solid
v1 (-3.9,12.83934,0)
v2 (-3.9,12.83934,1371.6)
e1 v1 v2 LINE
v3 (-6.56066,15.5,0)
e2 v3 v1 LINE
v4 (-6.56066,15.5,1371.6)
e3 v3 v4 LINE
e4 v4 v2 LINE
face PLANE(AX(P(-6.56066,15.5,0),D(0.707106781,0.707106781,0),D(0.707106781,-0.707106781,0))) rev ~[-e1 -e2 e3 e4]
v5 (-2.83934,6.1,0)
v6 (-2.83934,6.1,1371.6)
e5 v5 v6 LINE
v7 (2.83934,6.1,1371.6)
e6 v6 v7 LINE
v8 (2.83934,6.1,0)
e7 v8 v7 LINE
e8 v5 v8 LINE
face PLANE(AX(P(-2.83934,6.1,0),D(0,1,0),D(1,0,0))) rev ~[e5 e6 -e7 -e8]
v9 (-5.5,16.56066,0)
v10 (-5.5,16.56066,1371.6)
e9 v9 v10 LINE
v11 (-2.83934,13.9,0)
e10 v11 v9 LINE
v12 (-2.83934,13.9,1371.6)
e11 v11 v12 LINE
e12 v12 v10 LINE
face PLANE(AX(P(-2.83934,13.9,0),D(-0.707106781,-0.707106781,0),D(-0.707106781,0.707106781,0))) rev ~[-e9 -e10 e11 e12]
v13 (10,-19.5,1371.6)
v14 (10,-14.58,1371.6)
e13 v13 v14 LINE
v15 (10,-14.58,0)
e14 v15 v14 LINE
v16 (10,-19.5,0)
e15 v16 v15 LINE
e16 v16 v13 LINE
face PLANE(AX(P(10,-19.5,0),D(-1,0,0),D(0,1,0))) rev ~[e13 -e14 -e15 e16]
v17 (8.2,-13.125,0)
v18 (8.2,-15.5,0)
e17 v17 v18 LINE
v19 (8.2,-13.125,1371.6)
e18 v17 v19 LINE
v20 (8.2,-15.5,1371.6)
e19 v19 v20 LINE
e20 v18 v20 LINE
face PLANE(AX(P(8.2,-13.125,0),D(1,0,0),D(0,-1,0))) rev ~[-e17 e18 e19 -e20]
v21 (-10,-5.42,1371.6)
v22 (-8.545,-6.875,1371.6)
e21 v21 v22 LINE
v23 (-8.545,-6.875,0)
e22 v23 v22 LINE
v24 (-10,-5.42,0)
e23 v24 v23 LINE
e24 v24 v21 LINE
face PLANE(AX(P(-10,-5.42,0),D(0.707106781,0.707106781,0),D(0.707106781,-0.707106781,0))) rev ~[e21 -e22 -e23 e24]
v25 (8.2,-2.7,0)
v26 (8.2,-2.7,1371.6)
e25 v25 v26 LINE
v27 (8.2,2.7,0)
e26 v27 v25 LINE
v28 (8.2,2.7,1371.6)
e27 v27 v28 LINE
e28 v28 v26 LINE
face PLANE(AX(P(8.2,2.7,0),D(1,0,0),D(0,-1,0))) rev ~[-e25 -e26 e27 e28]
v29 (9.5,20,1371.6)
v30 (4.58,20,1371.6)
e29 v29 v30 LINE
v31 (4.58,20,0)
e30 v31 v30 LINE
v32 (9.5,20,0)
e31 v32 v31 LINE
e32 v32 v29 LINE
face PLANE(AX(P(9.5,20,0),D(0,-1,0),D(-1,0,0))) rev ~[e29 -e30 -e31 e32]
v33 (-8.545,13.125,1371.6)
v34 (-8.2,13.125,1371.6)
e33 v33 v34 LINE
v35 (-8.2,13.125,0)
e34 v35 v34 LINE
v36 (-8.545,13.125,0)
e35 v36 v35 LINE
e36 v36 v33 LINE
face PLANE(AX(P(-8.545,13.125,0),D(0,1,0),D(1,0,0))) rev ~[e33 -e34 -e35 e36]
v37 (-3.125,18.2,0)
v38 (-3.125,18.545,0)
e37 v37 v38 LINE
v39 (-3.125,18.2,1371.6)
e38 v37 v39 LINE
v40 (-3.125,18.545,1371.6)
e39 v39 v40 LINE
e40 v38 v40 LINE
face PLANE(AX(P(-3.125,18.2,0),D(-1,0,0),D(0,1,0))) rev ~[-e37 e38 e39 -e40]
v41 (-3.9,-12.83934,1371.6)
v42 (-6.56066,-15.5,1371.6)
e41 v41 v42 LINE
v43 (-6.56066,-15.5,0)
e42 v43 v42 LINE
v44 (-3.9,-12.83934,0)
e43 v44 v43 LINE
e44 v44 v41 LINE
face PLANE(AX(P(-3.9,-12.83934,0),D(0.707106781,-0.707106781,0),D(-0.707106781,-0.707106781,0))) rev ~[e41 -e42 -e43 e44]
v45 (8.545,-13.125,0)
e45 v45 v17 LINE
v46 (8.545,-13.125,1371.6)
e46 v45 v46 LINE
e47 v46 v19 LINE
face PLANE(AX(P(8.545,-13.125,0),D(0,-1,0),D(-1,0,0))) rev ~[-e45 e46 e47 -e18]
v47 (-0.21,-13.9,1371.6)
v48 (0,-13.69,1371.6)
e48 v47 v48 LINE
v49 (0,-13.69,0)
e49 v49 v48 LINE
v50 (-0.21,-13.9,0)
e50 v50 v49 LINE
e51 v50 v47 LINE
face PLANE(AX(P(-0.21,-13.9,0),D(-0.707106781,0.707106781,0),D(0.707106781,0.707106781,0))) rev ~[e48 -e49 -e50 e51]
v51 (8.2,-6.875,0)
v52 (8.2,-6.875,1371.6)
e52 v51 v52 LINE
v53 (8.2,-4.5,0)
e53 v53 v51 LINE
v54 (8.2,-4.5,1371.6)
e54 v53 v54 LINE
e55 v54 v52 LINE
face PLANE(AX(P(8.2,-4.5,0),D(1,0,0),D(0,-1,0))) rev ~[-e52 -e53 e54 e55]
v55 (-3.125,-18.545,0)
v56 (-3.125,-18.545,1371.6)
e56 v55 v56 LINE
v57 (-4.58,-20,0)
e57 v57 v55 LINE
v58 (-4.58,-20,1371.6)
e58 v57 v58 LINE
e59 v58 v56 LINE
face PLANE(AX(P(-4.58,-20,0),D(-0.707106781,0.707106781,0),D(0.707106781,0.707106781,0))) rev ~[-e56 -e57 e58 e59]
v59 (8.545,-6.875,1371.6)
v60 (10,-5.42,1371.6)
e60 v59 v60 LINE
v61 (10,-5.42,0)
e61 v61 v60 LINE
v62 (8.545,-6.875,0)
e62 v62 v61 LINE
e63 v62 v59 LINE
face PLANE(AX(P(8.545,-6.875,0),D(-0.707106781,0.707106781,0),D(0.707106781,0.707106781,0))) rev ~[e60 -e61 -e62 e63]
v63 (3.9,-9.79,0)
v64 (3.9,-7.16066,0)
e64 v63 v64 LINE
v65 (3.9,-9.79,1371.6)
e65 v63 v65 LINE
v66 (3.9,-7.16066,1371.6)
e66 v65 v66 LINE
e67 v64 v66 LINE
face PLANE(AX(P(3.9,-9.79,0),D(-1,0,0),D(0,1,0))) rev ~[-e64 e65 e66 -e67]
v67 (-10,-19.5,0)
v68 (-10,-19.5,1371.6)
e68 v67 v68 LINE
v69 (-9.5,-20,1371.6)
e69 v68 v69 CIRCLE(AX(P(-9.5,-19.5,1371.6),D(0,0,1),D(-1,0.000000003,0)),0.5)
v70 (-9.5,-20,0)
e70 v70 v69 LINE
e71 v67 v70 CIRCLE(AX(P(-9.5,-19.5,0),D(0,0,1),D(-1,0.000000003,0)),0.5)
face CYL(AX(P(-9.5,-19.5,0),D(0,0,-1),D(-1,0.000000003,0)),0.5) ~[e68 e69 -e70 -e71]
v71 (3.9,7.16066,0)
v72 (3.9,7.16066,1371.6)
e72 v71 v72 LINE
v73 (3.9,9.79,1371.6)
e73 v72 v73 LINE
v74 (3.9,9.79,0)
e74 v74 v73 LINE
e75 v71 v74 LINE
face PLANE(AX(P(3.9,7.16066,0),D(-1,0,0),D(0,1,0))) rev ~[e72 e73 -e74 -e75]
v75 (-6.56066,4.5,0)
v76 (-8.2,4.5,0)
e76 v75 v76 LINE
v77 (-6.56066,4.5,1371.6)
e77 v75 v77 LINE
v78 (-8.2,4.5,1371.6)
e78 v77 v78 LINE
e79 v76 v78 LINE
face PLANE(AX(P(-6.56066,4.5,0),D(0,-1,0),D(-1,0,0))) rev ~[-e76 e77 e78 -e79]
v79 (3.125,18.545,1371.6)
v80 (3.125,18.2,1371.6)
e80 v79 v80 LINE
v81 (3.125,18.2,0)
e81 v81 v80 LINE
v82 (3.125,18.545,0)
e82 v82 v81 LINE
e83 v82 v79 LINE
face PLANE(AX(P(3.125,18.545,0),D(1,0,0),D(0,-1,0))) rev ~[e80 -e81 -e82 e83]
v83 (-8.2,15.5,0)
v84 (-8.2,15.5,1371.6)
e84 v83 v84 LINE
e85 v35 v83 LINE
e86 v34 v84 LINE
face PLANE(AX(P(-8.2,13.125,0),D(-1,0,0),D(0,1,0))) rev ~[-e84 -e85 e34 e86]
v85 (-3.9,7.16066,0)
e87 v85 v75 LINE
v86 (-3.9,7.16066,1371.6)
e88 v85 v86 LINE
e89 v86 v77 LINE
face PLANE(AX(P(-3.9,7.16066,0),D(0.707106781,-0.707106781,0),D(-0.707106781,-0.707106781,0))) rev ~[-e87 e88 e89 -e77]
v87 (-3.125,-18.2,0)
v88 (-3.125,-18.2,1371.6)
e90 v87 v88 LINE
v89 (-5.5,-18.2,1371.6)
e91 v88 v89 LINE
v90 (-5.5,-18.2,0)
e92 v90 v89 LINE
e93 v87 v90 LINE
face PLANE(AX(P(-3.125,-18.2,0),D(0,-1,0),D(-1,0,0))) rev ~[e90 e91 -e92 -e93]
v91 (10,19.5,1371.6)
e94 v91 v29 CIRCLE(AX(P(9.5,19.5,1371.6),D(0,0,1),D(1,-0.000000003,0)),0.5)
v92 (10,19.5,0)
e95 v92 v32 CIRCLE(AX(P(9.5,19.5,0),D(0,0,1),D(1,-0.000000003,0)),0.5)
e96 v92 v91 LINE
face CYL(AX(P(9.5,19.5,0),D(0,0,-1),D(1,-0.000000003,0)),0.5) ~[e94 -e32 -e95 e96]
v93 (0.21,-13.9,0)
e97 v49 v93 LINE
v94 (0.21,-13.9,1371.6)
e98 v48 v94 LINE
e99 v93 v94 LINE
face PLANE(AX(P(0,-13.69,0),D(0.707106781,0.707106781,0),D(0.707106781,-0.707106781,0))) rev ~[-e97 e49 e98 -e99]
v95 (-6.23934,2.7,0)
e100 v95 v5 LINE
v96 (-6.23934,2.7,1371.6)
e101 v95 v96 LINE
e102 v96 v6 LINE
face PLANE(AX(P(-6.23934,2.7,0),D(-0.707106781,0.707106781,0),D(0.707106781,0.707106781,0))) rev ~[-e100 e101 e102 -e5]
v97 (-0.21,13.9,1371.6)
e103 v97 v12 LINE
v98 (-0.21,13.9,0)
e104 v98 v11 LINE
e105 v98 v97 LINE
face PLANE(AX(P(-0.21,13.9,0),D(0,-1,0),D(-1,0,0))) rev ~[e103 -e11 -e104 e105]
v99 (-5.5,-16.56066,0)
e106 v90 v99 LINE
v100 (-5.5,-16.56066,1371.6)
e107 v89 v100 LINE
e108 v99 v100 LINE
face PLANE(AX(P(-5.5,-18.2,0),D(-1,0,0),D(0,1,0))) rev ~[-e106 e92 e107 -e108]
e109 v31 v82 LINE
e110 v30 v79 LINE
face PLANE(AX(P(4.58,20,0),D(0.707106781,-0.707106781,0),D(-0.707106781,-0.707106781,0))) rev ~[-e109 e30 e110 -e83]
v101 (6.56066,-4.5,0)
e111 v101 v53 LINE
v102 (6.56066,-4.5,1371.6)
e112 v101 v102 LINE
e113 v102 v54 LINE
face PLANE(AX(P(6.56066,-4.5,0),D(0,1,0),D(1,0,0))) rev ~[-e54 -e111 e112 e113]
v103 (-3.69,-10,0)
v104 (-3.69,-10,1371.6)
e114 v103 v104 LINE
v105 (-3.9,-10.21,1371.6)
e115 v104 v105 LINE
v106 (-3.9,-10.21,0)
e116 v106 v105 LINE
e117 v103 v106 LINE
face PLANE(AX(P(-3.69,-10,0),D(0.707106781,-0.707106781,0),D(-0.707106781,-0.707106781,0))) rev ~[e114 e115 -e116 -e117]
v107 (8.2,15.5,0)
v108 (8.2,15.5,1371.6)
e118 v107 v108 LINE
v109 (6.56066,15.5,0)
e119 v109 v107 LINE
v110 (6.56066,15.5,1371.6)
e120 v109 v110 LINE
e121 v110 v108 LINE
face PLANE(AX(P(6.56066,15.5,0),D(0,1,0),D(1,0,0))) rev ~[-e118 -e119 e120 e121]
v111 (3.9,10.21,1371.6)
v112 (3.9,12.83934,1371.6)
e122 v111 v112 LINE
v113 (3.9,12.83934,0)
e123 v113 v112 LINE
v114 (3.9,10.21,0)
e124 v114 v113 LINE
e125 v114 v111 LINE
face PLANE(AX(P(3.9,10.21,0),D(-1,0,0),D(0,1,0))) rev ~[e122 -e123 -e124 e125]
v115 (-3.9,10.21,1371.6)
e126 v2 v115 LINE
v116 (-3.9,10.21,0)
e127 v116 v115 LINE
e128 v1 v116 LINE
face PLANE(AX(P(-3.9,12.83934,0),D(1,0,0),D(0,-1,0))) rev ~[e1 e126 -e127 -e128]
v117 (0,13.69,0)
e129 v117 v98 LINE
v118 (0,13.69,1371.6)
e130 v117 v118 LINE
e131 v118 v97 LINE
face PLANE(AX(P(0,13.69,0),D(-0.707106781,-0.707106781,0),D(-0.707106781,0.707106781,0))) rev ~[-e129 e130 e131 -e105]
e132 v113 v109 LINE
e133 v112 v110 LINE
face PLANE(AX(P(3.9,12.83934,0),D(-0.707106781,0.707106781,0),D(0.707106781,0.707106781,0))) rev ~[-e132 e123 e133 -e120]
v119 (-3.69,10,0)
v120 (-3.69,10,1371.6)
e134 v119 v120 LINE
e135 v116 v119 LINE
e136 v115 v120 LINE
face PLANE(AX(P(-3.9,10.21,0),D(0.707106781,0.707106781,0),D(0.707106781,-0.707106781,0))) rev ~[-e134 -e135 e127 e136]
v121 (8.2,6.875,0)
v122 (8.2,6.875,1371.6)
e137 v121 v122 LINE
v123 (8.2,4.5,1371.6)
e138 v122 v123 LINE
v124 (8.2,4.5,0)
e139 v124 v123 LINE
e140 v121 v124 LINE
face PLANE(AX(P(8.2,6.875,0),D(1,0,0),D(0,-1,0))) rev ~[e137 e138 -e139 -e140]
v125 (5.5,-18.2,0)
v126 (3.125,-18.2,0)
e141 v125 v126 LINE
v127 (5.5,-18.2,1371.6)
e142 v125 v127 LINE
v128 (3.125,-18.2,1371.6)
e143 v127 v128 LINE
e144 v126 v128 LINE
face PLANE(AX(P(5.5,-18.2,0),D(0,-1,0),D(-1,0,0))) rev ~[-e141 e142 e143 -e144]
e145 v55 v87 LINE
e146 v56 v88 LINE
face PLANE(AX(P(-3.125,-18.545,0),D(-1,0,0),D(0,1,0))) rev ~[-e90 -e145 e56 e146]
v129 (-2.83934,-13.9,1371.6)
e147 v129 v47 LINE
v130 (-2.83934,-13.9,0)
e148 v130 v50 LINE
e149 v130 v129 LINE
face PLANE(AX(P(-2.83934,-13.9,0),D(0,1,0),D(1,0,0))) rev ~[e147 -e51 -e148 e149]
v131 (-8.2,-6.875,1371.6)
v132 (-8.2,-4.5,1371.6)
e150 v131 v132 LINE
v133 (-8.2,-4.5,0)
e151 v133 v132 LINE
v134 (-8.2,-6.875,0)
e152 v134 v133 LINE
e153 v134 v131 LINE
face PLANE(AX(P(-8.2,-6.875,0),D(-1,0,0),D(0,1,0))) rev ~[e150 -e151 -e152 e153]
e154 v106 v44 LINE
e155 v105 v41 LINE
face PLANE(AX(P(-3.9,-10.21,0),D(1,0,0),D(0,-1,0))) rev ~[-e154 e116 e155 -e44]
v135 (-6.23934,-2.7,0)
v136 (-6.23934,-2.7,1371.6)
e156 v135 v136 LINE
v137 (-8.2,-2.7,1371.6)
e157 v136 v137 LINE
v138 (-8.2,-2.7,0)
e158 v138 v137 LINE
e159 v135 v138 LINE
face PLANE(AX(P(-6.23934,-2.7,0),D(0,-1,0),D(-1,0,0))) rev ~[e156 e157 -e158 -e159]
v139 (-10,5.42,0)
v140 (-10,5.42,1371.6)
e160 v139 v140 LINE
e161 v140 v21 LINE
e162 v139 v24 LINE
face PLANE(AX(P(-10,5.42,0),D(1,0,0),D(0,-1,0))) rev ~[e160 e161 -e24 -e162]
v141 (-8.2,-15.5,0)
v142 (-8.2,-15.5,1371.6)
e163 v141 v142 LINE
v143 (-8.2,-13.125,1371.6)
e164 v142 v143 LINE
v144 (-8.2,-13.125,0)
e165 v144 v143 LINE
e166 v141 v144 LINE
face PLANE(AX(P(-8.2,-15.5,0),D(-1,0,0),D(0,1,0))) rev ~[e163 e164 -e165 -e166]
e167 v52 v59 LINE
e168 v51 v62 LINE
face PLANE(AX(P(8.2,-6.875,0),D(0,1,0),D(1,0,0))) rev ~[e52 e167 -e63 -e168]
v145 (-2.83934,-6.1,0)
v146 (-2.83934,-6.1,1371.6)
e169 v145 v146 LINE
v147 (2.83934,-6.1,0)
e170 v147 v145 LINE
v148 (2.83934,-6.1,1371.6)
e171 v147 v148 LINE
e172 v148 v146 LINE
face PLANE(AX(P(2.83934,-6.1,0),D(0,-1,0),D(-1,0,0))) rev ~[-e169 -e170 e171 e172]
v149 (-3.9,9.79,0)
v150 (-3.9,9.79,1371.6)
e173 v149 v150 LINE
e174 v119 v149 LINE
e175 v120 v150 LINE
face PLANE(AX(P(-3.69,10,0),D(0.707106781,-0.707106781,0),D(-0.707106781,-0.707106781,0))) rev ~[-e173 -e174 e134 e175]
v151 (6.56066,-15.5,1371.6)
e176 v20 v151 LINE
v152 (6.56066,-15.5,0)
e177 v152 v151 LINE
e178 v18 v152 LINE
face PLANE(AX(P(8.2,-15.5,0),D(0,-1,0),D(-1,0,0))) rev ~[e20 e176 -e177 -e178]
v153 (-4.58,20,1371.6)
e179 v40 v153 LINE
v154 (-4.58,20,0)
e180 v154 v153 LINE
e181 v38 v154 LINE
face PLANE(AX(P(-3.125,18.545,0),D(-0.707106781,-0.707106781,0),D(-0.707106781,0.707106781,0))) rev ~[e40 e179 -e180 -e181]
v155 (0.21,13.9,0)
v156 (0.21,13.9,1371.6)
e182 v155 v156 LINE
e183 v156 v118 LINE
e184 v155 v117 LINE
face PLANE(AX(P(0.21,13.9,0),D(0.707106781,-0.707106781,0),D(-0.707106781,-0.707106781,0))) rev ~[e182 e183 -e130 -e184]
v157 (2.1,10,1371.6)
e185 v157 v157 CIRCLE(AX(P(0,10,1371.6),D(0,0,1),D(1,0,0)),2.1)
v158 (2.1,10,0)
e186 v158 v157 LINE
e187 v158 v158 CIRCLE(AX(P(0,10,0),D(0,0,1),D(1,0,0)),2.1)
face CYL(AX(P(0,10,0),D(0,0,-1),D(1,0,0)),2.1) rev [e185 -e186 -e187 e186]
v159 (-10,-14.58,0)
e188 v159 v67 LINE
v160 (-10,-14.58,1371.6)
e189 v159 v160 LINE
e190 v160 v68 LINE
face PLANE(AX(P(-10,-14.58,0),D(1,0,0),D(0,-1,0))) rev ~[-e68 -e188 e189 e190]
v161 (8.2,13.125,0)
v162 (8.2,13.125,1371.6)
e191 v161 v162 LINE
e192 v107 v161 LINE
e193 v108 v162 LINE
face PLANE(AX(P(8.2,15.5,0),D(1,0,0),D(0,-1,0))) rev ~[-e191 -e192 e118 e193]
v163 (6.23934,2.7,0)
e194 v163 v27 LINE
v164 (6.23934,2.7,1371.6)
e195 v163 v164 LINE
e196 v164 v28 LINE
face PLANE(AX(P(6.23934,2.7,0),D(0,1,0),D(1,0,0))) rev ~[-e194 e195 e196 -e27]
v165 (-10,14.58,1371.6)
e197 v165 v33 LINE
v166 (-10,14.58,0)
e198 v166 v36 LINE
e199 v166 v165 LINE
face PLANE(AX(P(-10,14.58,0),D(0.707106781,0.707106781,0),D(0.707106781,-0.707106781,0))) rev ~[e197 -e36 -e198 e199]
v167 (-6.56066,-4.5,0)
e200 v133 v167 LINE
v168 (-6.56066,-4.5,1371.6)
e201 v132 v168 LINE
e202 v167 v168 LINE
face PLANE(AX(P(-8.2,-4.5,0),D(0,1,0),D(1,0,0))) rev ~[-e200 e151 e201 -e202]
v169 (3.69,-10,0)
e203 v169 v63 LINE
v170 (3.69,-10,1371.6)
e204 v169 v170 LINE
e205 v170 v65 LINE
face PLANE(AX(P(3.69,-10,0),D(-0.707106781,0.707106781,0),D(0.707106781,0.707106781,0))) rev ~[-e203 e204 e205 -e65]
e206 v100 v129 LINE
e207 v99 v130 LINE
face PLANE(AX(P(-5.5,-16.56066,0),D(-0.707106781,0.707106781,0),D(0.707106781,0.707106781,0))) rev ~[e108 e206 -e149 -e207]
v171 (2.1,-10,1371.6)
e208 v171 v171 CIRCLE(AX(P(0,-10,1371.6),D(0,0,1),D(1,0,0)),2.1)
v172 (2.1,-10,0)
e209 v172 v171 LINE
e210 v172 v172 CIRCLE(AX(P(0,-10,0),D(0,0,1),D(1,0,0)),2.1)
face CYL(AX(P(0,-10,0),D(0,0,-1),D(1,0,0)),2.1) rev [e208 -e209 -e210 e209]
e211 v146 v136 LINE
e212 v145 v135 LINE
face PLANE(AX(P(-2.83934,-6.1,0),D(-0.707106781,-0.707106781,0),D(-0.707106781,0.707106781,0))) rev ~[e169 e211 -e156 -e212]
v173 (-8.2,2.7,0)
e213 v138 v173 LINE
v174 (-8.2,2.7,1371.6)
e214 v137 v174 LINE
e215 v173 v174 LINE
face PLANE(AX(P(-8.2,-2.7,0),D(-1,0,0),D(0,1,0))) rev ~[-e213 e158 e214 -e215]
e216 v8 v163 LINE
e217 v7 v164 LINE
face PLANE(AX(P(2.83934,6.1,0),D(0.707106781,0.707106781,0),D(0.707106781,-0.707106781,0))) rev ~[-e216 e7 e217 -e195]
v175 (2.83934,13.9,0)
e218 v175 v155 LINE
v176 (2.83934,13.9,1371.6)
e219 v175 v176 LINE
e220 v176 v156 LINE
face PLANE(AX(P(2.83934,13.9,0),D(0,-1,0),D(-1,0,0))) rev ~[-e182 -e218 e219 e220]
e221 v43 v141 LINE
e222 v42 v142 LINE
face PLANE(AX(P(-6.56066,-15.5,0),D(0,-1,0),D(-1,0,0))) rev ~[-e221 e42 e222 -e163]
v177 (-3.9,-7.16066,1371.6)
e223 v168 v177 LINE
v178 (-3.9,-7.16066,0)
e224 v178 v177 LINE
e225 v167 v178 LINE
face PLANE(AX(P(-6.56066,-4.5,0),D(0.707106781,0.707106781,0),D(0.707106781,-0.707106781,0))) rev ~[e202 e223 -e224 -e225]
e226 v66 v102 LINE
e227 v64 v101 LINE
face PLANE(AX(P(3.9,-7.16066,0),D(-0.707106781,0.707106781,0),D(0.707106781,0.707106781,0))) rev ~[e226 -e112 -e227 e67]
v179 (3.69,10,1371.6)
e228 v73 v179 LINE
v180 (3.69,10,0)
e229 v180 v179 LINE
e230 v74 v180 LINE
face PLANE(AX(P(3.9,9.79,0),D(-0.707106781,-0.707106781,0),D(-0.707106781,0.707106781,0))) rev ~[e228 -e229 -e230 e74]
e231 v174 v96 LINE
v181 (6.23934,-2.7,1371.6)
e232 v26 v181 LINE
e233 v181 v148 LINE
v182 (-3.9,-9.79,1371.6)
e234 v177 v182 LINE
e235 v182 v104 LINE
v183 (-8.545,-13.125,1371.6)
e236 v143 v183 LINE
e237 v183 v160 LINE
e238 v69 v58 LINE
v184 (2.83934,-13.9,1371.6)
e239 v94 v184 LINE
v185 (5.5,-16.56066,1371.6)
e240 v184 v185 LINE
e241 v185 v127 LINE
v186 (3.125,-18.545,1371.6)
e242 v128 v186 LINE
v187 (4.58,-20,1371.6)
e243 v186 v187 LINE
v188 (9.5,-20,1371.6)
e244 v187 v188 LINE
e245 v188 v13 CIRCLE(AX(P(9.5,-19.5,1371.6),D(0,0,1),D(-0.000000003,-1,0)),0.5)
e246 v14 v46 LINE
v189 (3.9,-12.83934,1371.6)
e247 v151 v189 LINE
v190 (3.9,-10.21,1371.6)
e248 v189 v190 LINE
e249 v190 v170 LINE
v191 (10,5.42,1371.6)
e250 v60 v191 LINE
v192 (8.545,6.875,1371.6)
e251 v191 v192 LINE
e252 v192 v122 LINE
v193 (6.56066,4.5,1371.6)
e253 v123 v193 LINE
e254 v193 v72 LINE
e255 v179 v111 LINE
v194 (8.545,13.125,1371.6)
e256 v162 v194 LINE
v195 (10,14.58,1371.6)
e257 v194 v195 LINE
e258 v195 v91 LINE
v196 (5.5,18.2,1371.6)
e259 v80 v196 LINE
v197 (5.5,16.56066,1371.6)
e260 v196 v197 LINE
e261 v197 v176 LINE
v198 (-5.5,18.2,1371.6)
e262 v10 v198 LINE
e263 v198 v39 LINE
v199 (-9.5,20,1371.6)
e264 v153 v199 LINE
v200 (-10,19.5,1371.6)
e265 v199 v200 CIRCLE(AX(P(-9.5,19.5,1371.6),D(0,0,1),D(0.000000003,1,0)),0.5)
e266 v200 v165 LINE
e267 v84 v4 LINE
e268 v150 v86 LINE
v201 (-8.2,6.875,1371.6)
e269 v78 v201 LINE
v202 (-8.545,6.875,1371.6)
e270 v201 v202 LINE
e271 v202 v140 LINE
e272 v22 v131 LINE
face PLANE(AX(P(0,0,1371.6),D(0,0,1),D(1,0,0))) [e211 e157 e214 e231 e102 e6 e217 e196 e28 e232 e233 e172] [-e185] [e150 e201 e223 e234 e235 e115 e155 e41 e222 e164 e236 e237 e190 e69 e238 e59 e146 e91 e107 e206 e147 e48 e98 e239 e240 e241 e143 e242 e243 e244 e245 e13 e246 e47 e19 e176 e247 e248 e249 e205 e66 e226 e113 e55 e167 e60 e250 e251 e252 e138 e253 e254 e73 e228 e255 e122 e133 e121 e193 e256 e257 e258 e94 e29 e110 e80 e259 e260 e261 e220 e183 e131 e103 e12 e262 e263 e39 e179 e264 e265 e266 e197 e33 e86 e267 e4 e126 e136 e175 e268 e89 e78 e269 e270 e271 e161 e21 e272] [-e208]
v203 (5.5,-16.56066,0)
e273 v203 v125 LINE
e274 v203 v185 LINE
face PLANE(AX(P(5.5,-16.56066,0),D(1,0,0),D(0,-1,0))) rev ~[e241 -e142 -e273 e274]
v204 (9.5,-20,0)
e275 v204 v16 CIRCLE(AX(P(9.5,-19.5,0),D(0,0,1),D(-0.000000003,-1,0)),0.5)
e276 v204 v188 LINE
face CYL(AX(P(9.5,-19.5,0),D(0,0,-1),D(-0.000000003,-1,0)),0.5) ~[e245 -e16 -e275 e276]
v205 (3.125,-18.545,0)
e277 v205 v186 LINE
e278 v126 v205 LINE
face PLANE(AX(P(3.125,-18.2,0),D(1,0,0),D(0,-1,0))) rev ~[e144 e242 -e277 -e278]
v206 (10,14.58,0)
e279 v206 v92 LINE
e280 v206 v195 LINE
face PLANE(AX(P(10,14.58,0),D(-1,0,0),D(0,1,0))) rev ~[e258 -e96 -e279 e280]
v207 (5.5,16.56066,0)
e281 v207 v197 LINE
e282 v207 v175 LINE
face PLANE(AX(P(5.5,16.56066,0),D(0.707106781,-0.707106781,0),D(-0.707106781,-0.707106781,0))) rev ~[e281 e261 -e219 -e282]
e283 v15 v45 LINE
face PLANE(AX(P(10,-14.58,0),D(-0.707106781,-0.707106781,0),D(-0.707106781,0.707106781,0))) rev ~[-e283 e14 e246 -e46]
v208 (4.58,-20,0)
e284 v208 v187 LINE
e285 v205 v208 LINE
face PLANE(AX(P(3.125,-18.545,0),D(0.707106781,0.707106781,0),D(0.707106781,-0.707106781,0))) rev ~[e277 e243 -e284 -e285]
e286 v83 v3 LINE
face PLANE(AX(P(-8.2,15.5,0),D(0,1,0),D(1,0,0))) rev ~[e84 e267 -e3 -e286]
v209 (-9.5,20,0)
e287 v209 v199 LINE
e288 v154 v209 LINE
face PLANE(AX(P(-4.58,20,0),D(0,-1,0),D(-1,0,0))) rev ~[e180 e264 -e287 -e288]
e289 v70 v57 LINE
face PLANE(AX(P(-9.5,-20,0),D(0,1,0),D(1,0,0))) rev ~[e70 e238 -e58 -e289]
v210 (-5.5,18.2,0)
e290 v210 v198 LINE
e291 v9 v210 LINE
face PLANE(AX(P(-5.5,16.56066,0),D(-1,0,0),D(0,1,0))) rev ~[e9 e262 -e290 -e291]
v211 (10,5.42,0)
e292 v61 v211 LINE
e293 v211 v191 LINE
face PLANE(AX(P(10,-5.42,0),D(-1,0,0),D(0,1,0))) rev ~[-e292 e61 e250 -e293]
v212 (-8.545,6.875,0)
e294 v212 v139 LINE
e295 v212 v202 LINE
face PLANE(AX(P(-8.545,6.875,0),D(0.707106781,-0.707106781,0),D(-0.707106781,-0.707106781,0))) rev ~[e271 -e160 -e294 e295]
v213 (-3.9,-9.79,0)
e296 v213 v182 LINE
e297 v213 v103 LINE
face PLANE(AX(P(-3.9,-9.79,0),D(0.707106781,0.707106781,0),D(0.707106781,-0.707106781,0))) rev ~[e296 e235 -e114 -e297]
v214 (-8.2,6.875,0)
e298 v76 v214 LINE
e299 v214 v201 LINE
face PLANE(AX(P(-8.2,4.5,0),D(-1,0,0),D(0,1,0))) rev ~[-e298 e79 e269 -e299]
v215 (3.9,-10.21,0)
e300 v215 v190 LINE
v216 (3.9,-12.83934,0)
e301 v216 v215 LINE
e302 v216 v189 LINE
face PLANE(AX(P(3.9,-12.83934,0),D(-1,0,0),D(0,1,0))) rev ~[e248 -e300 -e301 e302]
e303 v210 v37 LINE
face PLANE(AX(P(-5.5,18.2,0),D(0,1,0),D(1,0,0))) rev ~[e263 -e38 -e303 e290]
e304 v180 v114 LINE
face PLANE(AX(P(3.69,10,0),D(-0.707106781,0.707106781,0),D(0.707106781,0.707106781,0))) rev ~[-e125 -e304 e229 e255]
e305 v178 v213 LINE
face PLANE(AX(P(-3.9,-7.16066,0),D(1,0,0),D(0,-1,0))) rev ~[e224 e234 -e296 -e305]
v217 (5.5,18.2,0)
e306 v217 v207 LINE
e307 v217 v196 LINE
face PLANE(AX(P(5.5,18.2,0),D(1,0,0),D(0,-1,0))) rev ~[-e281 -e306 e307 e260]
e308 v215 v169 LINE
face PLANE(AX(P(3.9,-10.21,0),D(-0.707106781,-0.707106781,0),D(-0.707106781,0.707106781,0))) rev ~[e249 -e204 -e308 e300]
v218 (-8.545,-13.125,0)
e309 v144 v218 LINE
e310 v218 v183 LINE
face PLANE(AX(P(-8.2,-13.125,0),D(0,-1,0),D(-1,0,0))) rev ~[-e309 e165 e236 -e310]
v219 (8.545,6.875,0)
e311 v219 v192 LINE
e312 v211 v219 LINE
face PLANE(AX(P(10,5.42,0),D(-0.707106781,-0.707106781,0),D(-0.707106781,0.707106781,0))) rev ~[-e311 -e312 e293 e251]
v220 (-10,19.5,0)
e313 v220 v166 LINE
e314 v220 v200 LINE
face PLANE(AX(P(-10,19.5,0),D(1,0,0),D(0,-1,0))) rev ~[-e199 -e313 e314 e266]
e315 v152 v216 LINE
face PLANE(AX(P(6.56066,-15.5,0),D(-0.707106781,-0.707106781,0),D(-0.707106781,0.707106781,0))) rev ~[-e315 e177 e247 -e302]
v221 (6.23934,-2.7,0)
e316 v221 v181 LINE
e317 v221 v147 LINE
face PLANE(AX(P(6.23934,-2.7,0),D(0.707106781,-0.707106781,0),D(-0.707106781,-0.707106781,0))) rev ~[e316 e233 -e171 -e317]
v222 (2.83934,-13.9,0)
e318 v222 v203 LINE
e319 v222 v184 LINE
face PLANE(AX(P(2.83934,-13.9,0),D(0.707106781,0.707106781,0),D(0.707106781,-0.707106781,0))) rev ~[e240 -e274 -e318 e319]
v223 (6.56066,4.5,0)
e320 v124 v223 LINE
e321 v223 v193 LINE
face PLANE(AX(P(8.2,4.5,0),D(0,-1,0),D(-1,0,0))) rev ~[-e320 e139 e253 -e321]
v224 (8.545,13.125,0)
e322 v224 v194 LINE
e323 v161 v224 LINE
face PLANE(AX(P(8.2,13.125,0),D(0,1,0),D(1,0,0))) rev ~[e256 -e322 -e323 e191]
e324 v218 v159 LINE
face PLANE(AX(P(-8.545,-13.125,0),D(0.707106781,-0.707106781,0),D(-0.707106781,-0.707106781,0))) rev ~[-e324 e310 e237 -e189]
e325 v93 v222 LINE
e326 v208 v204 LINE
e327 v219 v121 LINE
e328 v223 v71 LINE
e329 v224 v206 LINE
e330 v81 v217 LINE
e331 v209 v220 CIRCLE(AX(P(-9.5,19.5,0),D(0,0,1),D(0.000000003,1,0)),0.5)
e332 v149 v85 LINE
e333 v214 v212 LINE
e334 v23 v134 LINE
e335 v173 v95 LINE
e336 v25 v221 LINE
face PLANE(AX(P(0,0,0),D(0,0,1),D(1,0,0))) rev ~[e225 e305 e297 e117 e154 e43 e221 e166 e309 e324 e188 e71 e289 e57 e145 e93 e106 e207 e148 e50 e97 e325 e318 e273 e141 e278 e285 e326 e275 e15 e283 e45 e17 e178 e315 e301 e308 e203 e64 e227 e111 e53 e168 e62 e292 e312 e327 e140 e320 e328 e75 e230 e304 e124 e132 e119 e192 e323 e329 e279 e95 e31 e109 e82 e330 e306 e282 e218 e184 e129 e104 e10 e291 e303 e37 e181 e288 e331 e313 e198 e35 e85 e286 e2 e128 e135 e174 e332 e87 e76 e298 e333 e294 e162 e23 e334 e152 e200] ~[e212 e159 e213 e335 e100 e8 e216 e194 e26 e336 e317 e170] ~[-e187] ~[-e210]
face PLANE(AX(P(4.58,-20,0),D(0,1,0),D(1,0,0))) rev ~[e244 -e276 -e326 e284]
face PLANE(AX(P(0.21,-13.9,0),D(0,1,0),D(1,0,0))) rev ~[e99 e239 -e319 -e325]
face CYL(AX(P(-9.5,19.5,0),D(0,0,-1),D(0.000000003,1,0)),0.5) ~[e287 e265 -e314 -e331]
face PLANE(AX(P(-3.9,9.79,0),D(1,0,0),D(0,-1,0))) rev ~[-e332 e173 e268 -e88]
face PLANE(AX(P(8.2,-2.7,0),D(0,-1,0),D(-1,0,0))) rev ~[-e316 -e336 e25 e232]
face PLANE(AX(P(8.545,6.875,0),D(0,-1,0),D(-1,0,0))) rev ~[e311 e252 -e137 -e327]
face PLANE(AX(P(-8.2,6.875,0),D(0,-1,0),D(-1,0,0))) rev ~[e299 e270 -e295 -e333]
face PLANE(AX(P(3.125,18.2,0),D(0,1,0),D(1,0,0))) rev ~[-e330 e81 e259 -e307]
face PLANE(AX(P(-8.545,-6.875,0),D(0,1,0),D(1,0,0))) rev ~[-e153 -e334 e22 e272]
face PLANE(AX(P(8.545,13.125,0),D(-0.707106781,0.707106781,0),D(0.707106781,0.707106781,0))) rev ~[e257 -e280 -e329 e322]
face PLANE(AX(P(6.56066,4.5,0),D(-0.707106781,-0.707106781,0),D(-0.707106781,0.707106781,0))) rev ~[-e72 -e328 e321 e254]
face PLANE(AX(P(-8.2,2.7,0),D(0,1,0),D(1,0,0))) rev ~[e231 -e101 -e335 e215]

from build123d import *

# Parameters (mm, degrees)
SKETCH1_R           = 2.1
BOSS_EXTRUDE1_DEPTH = 1371.6


with BuildPart() as part:
    # Sketch1 → Boss-Extrude1 (new body)
    with BuildSketch(Plane.XY):
        with BuildLine():
            Line((4.58, -20), (9.5, -20))
            ThreePointArc((9.5, -20), (9.853553391, -19.853553391), (10, -19.5))
            Line((10, -19.5), (10, -14.58))
            Line((10, -14.58), (8.545, -13.125))
            Line((8.545, -13.125), (8.2, -13.125))
            Line((8.2, -13.125), (8.2, -15.5))
            Line((8.2, -15.5), (6.560660172, -15.5))
            Line((6.560660172, -15.5), (3.9, -12.839339828))
            Line((3.9, -12.839339828), (3.9, -10.21))
            Line((3.9, -10.21), (3.69, -10))
            Line((3.69, -10), (3.9, -9.79))
            Line((3.9, -9.79), (3.9, -7.160660172))
            Line((3.9, -7.160660172), (6.560660172, -4.5))
            Line((6.560660172, -4.5), (8.2, -4.5))
            Line((8.2, -4.5), (8.2, -6.875))
            Line((8.2, -6.875), (8.545, -6.875))
            Line((8.545, -6.875), (10, -5.42))
            Line((10, -5.42), (10, 5.42))
            Line((10, 5.42), (8.545, 6.875))
            Line((8.545, 6.875), (8.2, 6.875))
            Line((8.2, 6.875), (8.2, 4.5))
            Line((8.2, 4.5), (6.560660172, 4.5))
            Line((6.560660172, 4.5), (3.9, 7.160660172))
            Line((3.9, 7.160660172), (3.9, 9.79))
            Line((3.9, 9.79), (3.69, 10))
            Line((3.69, 10), (3.9, 10.21))
            Line((3.9, 10.21), (3.9, 12.839339828))
            Line((3.9, 12.839339828), (6.560660172, 15.5))
            Line((6.560660172, 15.5), (8.2, 15.5))
            Line((8.2, 15.5), (8.2, 13.125))
            Line((8.2, 13.125), (8.545, 13.125))
            Line((8.545, 13.125), (10, 14.58))
            Line((10, 14.58), (10, 19.5))
            ThreePointArc((10, 19.5), (9.853553391, 19.853553391), (9.5, 20))
            Line((9.5, 20), (4.58, 20))
            Line((4.58, 20), (3.125, 18.545))
            Line((3.125, 18.545), (3.125, 18.2))
            Line((3.125, 18.2), (5.5, 18.2))
            Line((5.5, 18.2), (5.5, 16.560660172))
            Line((5.5, 16.560660172), (2.839339828, 13.9))
            Line((2.839339828, 13.9), (0.21, 13.9))
            Line((0.21, 13.9), (0, 13.69))
            Line((0, 13.69), (-0.21, 13.9))
            Line((-0.21, 13.9), (-2.839339828, 13.9))
            Line((-2.839339828, 13.9), (-5.5, 16.560660172))
            Line((-5.5, 16.560660172), (-5.5, 18.2))
            Line((-5.5, 18.2), (-3.125, 18.2))
            Line((-3.125, 18.2), (-3.125, 18.545))
            Line((-3.125, 18.545), (-4.58, 20))
            Line((-4.58, 20), (-9.5, 20))
            ThreePointArc((-9.5, 20), (-9.853553391, 19.853553391), (-10, 19.5))
            Line((-10, 19.5), (-10, 14.58))
            Line((-10, 14.58), (-8.545, 13.125))
            Line((-8.545, 13.125), (-8.2, 13.125))
            Line((-8.2, 13.125), (-8.2, 15.5))
            Line((-8.2, 15.5), (-6.560660172, 15.5))
            Line((-6.560660172, 15.5), (-3.9, 12.839339828))
            Line((-3.9, 12.839339828), (-3.9, 10.21))
            Line((-3.9, 10.21), (-3.69, 10))
            Line((-3.69, 10), (-3.9, 9.79))
            Line((-3.9, 9.79), (-3.9, 7.160660172))
            Line((-3.9, 7.160660172), (-6.560660172, 4.5))
            Line((-6.560660172, 4.5), (-8.2, 4.5))
            Line((-8.2, 4.5), (-8.2, 6.875))
            Line((-8.2, 6.875), (-8.545, 6.875))
            Line((-8.545, 6.875), (-10, 5.42))
            Line((-10, 5.42), (-10, -5.42))
            Line((-10, -5.42), (-8.545, -6.875))
            Line((-8.545, -6.875), (-8.2, -6.875))
            Line((-8.2, -6.875), (-8.2, -4.5))
            Line((-8.2, -4.5), (-6.560660172, -4.5))
            Line((-6.560660172, -4.5), (-3.9, -7.160660172))
            Line((-3.9, -7.160660172), (-3.9, -9.79))
            Line((-3.9, -9.79), (-3.69, -10))
            Line((-3.69, -10), (-3.9, -10.21))
            Line((-3.9, -10.21), (-3.9, -12.839339828))
            Line((-3.9, -12.839339828), (-6.560660172, -15.5))
            Line((-6.560660172, -15.5), (-8.2, -15.5))
            Line((-8.2, -15.5), (-8.2, -13.125))
            Line((-8.2, -13.125), (-8.545, -13.125))
            Line((-8.545, -13.125), (-10, -14.58))
            Line((-10, -14.58), (-10, -19.5))
            ThreePointArc((-10, -19.5), (-9.853553391, -19.853553391), (-9.5, -20))
            Line((-9.5, -20), (-4.58, -20))
            Line((-4.58, -20), (-3.125, -18.545))
            Line((-3.125, -18.545), (-3.125, -18.2))
            Line((-3.125, -18.2), (-5.5, -18.2))
            Line((-5.5, -18.2), (-5.5, -16.560660172))
            Line((-5.5, -16.560660172), (-2.839339828, -13.9))
            Line((-2.839339828, -13.9), (-0.21, -13.9))
            Line((-0.21, -13.9), (0, -13.69))
            Line((0, -13.69), (0.21, -13.9))
            Line((0.21, -13.9), (2.839339828, -13.9))
            Line((2.839339828, -13.9), (5.5, -16.560660172))
            Line((5.5, -16.560660172), (5.5, -18.2))
            Line((5.5, -18.2), (3.125, -18.2))
            Line((3.125, -18.2), (3.125, -18.545))
            Line((3.125, -18.545), (4.58, -20))
        make_face()
        with Locations((0, -10)):
            Circle(SKETCH1_R, mode=Mode.SUBTRACT)
        Polygon((-6.239339828, -2.7), (-8.2, -2.7), (-8.2, 2.7), (-6.239339828, 2.7), (-2.839339828, 6.1), (2.839339828, 6.1), (6.239339828, 2.7), (8.2, 2.7), (8.2, -2.7), (6.239339828, -2.7), (2.839339828, -6.1), (-2.839339828, -6.1), align=None, mode=Mode.SUBTRACT)
        with Locations((0, 10)):
            Circle(SKETCH1_R, mode=Mode.SUBTRACT)
    extrude(amount=BOSS_EXTRUDE1_DEPTH)


solid = part.part
